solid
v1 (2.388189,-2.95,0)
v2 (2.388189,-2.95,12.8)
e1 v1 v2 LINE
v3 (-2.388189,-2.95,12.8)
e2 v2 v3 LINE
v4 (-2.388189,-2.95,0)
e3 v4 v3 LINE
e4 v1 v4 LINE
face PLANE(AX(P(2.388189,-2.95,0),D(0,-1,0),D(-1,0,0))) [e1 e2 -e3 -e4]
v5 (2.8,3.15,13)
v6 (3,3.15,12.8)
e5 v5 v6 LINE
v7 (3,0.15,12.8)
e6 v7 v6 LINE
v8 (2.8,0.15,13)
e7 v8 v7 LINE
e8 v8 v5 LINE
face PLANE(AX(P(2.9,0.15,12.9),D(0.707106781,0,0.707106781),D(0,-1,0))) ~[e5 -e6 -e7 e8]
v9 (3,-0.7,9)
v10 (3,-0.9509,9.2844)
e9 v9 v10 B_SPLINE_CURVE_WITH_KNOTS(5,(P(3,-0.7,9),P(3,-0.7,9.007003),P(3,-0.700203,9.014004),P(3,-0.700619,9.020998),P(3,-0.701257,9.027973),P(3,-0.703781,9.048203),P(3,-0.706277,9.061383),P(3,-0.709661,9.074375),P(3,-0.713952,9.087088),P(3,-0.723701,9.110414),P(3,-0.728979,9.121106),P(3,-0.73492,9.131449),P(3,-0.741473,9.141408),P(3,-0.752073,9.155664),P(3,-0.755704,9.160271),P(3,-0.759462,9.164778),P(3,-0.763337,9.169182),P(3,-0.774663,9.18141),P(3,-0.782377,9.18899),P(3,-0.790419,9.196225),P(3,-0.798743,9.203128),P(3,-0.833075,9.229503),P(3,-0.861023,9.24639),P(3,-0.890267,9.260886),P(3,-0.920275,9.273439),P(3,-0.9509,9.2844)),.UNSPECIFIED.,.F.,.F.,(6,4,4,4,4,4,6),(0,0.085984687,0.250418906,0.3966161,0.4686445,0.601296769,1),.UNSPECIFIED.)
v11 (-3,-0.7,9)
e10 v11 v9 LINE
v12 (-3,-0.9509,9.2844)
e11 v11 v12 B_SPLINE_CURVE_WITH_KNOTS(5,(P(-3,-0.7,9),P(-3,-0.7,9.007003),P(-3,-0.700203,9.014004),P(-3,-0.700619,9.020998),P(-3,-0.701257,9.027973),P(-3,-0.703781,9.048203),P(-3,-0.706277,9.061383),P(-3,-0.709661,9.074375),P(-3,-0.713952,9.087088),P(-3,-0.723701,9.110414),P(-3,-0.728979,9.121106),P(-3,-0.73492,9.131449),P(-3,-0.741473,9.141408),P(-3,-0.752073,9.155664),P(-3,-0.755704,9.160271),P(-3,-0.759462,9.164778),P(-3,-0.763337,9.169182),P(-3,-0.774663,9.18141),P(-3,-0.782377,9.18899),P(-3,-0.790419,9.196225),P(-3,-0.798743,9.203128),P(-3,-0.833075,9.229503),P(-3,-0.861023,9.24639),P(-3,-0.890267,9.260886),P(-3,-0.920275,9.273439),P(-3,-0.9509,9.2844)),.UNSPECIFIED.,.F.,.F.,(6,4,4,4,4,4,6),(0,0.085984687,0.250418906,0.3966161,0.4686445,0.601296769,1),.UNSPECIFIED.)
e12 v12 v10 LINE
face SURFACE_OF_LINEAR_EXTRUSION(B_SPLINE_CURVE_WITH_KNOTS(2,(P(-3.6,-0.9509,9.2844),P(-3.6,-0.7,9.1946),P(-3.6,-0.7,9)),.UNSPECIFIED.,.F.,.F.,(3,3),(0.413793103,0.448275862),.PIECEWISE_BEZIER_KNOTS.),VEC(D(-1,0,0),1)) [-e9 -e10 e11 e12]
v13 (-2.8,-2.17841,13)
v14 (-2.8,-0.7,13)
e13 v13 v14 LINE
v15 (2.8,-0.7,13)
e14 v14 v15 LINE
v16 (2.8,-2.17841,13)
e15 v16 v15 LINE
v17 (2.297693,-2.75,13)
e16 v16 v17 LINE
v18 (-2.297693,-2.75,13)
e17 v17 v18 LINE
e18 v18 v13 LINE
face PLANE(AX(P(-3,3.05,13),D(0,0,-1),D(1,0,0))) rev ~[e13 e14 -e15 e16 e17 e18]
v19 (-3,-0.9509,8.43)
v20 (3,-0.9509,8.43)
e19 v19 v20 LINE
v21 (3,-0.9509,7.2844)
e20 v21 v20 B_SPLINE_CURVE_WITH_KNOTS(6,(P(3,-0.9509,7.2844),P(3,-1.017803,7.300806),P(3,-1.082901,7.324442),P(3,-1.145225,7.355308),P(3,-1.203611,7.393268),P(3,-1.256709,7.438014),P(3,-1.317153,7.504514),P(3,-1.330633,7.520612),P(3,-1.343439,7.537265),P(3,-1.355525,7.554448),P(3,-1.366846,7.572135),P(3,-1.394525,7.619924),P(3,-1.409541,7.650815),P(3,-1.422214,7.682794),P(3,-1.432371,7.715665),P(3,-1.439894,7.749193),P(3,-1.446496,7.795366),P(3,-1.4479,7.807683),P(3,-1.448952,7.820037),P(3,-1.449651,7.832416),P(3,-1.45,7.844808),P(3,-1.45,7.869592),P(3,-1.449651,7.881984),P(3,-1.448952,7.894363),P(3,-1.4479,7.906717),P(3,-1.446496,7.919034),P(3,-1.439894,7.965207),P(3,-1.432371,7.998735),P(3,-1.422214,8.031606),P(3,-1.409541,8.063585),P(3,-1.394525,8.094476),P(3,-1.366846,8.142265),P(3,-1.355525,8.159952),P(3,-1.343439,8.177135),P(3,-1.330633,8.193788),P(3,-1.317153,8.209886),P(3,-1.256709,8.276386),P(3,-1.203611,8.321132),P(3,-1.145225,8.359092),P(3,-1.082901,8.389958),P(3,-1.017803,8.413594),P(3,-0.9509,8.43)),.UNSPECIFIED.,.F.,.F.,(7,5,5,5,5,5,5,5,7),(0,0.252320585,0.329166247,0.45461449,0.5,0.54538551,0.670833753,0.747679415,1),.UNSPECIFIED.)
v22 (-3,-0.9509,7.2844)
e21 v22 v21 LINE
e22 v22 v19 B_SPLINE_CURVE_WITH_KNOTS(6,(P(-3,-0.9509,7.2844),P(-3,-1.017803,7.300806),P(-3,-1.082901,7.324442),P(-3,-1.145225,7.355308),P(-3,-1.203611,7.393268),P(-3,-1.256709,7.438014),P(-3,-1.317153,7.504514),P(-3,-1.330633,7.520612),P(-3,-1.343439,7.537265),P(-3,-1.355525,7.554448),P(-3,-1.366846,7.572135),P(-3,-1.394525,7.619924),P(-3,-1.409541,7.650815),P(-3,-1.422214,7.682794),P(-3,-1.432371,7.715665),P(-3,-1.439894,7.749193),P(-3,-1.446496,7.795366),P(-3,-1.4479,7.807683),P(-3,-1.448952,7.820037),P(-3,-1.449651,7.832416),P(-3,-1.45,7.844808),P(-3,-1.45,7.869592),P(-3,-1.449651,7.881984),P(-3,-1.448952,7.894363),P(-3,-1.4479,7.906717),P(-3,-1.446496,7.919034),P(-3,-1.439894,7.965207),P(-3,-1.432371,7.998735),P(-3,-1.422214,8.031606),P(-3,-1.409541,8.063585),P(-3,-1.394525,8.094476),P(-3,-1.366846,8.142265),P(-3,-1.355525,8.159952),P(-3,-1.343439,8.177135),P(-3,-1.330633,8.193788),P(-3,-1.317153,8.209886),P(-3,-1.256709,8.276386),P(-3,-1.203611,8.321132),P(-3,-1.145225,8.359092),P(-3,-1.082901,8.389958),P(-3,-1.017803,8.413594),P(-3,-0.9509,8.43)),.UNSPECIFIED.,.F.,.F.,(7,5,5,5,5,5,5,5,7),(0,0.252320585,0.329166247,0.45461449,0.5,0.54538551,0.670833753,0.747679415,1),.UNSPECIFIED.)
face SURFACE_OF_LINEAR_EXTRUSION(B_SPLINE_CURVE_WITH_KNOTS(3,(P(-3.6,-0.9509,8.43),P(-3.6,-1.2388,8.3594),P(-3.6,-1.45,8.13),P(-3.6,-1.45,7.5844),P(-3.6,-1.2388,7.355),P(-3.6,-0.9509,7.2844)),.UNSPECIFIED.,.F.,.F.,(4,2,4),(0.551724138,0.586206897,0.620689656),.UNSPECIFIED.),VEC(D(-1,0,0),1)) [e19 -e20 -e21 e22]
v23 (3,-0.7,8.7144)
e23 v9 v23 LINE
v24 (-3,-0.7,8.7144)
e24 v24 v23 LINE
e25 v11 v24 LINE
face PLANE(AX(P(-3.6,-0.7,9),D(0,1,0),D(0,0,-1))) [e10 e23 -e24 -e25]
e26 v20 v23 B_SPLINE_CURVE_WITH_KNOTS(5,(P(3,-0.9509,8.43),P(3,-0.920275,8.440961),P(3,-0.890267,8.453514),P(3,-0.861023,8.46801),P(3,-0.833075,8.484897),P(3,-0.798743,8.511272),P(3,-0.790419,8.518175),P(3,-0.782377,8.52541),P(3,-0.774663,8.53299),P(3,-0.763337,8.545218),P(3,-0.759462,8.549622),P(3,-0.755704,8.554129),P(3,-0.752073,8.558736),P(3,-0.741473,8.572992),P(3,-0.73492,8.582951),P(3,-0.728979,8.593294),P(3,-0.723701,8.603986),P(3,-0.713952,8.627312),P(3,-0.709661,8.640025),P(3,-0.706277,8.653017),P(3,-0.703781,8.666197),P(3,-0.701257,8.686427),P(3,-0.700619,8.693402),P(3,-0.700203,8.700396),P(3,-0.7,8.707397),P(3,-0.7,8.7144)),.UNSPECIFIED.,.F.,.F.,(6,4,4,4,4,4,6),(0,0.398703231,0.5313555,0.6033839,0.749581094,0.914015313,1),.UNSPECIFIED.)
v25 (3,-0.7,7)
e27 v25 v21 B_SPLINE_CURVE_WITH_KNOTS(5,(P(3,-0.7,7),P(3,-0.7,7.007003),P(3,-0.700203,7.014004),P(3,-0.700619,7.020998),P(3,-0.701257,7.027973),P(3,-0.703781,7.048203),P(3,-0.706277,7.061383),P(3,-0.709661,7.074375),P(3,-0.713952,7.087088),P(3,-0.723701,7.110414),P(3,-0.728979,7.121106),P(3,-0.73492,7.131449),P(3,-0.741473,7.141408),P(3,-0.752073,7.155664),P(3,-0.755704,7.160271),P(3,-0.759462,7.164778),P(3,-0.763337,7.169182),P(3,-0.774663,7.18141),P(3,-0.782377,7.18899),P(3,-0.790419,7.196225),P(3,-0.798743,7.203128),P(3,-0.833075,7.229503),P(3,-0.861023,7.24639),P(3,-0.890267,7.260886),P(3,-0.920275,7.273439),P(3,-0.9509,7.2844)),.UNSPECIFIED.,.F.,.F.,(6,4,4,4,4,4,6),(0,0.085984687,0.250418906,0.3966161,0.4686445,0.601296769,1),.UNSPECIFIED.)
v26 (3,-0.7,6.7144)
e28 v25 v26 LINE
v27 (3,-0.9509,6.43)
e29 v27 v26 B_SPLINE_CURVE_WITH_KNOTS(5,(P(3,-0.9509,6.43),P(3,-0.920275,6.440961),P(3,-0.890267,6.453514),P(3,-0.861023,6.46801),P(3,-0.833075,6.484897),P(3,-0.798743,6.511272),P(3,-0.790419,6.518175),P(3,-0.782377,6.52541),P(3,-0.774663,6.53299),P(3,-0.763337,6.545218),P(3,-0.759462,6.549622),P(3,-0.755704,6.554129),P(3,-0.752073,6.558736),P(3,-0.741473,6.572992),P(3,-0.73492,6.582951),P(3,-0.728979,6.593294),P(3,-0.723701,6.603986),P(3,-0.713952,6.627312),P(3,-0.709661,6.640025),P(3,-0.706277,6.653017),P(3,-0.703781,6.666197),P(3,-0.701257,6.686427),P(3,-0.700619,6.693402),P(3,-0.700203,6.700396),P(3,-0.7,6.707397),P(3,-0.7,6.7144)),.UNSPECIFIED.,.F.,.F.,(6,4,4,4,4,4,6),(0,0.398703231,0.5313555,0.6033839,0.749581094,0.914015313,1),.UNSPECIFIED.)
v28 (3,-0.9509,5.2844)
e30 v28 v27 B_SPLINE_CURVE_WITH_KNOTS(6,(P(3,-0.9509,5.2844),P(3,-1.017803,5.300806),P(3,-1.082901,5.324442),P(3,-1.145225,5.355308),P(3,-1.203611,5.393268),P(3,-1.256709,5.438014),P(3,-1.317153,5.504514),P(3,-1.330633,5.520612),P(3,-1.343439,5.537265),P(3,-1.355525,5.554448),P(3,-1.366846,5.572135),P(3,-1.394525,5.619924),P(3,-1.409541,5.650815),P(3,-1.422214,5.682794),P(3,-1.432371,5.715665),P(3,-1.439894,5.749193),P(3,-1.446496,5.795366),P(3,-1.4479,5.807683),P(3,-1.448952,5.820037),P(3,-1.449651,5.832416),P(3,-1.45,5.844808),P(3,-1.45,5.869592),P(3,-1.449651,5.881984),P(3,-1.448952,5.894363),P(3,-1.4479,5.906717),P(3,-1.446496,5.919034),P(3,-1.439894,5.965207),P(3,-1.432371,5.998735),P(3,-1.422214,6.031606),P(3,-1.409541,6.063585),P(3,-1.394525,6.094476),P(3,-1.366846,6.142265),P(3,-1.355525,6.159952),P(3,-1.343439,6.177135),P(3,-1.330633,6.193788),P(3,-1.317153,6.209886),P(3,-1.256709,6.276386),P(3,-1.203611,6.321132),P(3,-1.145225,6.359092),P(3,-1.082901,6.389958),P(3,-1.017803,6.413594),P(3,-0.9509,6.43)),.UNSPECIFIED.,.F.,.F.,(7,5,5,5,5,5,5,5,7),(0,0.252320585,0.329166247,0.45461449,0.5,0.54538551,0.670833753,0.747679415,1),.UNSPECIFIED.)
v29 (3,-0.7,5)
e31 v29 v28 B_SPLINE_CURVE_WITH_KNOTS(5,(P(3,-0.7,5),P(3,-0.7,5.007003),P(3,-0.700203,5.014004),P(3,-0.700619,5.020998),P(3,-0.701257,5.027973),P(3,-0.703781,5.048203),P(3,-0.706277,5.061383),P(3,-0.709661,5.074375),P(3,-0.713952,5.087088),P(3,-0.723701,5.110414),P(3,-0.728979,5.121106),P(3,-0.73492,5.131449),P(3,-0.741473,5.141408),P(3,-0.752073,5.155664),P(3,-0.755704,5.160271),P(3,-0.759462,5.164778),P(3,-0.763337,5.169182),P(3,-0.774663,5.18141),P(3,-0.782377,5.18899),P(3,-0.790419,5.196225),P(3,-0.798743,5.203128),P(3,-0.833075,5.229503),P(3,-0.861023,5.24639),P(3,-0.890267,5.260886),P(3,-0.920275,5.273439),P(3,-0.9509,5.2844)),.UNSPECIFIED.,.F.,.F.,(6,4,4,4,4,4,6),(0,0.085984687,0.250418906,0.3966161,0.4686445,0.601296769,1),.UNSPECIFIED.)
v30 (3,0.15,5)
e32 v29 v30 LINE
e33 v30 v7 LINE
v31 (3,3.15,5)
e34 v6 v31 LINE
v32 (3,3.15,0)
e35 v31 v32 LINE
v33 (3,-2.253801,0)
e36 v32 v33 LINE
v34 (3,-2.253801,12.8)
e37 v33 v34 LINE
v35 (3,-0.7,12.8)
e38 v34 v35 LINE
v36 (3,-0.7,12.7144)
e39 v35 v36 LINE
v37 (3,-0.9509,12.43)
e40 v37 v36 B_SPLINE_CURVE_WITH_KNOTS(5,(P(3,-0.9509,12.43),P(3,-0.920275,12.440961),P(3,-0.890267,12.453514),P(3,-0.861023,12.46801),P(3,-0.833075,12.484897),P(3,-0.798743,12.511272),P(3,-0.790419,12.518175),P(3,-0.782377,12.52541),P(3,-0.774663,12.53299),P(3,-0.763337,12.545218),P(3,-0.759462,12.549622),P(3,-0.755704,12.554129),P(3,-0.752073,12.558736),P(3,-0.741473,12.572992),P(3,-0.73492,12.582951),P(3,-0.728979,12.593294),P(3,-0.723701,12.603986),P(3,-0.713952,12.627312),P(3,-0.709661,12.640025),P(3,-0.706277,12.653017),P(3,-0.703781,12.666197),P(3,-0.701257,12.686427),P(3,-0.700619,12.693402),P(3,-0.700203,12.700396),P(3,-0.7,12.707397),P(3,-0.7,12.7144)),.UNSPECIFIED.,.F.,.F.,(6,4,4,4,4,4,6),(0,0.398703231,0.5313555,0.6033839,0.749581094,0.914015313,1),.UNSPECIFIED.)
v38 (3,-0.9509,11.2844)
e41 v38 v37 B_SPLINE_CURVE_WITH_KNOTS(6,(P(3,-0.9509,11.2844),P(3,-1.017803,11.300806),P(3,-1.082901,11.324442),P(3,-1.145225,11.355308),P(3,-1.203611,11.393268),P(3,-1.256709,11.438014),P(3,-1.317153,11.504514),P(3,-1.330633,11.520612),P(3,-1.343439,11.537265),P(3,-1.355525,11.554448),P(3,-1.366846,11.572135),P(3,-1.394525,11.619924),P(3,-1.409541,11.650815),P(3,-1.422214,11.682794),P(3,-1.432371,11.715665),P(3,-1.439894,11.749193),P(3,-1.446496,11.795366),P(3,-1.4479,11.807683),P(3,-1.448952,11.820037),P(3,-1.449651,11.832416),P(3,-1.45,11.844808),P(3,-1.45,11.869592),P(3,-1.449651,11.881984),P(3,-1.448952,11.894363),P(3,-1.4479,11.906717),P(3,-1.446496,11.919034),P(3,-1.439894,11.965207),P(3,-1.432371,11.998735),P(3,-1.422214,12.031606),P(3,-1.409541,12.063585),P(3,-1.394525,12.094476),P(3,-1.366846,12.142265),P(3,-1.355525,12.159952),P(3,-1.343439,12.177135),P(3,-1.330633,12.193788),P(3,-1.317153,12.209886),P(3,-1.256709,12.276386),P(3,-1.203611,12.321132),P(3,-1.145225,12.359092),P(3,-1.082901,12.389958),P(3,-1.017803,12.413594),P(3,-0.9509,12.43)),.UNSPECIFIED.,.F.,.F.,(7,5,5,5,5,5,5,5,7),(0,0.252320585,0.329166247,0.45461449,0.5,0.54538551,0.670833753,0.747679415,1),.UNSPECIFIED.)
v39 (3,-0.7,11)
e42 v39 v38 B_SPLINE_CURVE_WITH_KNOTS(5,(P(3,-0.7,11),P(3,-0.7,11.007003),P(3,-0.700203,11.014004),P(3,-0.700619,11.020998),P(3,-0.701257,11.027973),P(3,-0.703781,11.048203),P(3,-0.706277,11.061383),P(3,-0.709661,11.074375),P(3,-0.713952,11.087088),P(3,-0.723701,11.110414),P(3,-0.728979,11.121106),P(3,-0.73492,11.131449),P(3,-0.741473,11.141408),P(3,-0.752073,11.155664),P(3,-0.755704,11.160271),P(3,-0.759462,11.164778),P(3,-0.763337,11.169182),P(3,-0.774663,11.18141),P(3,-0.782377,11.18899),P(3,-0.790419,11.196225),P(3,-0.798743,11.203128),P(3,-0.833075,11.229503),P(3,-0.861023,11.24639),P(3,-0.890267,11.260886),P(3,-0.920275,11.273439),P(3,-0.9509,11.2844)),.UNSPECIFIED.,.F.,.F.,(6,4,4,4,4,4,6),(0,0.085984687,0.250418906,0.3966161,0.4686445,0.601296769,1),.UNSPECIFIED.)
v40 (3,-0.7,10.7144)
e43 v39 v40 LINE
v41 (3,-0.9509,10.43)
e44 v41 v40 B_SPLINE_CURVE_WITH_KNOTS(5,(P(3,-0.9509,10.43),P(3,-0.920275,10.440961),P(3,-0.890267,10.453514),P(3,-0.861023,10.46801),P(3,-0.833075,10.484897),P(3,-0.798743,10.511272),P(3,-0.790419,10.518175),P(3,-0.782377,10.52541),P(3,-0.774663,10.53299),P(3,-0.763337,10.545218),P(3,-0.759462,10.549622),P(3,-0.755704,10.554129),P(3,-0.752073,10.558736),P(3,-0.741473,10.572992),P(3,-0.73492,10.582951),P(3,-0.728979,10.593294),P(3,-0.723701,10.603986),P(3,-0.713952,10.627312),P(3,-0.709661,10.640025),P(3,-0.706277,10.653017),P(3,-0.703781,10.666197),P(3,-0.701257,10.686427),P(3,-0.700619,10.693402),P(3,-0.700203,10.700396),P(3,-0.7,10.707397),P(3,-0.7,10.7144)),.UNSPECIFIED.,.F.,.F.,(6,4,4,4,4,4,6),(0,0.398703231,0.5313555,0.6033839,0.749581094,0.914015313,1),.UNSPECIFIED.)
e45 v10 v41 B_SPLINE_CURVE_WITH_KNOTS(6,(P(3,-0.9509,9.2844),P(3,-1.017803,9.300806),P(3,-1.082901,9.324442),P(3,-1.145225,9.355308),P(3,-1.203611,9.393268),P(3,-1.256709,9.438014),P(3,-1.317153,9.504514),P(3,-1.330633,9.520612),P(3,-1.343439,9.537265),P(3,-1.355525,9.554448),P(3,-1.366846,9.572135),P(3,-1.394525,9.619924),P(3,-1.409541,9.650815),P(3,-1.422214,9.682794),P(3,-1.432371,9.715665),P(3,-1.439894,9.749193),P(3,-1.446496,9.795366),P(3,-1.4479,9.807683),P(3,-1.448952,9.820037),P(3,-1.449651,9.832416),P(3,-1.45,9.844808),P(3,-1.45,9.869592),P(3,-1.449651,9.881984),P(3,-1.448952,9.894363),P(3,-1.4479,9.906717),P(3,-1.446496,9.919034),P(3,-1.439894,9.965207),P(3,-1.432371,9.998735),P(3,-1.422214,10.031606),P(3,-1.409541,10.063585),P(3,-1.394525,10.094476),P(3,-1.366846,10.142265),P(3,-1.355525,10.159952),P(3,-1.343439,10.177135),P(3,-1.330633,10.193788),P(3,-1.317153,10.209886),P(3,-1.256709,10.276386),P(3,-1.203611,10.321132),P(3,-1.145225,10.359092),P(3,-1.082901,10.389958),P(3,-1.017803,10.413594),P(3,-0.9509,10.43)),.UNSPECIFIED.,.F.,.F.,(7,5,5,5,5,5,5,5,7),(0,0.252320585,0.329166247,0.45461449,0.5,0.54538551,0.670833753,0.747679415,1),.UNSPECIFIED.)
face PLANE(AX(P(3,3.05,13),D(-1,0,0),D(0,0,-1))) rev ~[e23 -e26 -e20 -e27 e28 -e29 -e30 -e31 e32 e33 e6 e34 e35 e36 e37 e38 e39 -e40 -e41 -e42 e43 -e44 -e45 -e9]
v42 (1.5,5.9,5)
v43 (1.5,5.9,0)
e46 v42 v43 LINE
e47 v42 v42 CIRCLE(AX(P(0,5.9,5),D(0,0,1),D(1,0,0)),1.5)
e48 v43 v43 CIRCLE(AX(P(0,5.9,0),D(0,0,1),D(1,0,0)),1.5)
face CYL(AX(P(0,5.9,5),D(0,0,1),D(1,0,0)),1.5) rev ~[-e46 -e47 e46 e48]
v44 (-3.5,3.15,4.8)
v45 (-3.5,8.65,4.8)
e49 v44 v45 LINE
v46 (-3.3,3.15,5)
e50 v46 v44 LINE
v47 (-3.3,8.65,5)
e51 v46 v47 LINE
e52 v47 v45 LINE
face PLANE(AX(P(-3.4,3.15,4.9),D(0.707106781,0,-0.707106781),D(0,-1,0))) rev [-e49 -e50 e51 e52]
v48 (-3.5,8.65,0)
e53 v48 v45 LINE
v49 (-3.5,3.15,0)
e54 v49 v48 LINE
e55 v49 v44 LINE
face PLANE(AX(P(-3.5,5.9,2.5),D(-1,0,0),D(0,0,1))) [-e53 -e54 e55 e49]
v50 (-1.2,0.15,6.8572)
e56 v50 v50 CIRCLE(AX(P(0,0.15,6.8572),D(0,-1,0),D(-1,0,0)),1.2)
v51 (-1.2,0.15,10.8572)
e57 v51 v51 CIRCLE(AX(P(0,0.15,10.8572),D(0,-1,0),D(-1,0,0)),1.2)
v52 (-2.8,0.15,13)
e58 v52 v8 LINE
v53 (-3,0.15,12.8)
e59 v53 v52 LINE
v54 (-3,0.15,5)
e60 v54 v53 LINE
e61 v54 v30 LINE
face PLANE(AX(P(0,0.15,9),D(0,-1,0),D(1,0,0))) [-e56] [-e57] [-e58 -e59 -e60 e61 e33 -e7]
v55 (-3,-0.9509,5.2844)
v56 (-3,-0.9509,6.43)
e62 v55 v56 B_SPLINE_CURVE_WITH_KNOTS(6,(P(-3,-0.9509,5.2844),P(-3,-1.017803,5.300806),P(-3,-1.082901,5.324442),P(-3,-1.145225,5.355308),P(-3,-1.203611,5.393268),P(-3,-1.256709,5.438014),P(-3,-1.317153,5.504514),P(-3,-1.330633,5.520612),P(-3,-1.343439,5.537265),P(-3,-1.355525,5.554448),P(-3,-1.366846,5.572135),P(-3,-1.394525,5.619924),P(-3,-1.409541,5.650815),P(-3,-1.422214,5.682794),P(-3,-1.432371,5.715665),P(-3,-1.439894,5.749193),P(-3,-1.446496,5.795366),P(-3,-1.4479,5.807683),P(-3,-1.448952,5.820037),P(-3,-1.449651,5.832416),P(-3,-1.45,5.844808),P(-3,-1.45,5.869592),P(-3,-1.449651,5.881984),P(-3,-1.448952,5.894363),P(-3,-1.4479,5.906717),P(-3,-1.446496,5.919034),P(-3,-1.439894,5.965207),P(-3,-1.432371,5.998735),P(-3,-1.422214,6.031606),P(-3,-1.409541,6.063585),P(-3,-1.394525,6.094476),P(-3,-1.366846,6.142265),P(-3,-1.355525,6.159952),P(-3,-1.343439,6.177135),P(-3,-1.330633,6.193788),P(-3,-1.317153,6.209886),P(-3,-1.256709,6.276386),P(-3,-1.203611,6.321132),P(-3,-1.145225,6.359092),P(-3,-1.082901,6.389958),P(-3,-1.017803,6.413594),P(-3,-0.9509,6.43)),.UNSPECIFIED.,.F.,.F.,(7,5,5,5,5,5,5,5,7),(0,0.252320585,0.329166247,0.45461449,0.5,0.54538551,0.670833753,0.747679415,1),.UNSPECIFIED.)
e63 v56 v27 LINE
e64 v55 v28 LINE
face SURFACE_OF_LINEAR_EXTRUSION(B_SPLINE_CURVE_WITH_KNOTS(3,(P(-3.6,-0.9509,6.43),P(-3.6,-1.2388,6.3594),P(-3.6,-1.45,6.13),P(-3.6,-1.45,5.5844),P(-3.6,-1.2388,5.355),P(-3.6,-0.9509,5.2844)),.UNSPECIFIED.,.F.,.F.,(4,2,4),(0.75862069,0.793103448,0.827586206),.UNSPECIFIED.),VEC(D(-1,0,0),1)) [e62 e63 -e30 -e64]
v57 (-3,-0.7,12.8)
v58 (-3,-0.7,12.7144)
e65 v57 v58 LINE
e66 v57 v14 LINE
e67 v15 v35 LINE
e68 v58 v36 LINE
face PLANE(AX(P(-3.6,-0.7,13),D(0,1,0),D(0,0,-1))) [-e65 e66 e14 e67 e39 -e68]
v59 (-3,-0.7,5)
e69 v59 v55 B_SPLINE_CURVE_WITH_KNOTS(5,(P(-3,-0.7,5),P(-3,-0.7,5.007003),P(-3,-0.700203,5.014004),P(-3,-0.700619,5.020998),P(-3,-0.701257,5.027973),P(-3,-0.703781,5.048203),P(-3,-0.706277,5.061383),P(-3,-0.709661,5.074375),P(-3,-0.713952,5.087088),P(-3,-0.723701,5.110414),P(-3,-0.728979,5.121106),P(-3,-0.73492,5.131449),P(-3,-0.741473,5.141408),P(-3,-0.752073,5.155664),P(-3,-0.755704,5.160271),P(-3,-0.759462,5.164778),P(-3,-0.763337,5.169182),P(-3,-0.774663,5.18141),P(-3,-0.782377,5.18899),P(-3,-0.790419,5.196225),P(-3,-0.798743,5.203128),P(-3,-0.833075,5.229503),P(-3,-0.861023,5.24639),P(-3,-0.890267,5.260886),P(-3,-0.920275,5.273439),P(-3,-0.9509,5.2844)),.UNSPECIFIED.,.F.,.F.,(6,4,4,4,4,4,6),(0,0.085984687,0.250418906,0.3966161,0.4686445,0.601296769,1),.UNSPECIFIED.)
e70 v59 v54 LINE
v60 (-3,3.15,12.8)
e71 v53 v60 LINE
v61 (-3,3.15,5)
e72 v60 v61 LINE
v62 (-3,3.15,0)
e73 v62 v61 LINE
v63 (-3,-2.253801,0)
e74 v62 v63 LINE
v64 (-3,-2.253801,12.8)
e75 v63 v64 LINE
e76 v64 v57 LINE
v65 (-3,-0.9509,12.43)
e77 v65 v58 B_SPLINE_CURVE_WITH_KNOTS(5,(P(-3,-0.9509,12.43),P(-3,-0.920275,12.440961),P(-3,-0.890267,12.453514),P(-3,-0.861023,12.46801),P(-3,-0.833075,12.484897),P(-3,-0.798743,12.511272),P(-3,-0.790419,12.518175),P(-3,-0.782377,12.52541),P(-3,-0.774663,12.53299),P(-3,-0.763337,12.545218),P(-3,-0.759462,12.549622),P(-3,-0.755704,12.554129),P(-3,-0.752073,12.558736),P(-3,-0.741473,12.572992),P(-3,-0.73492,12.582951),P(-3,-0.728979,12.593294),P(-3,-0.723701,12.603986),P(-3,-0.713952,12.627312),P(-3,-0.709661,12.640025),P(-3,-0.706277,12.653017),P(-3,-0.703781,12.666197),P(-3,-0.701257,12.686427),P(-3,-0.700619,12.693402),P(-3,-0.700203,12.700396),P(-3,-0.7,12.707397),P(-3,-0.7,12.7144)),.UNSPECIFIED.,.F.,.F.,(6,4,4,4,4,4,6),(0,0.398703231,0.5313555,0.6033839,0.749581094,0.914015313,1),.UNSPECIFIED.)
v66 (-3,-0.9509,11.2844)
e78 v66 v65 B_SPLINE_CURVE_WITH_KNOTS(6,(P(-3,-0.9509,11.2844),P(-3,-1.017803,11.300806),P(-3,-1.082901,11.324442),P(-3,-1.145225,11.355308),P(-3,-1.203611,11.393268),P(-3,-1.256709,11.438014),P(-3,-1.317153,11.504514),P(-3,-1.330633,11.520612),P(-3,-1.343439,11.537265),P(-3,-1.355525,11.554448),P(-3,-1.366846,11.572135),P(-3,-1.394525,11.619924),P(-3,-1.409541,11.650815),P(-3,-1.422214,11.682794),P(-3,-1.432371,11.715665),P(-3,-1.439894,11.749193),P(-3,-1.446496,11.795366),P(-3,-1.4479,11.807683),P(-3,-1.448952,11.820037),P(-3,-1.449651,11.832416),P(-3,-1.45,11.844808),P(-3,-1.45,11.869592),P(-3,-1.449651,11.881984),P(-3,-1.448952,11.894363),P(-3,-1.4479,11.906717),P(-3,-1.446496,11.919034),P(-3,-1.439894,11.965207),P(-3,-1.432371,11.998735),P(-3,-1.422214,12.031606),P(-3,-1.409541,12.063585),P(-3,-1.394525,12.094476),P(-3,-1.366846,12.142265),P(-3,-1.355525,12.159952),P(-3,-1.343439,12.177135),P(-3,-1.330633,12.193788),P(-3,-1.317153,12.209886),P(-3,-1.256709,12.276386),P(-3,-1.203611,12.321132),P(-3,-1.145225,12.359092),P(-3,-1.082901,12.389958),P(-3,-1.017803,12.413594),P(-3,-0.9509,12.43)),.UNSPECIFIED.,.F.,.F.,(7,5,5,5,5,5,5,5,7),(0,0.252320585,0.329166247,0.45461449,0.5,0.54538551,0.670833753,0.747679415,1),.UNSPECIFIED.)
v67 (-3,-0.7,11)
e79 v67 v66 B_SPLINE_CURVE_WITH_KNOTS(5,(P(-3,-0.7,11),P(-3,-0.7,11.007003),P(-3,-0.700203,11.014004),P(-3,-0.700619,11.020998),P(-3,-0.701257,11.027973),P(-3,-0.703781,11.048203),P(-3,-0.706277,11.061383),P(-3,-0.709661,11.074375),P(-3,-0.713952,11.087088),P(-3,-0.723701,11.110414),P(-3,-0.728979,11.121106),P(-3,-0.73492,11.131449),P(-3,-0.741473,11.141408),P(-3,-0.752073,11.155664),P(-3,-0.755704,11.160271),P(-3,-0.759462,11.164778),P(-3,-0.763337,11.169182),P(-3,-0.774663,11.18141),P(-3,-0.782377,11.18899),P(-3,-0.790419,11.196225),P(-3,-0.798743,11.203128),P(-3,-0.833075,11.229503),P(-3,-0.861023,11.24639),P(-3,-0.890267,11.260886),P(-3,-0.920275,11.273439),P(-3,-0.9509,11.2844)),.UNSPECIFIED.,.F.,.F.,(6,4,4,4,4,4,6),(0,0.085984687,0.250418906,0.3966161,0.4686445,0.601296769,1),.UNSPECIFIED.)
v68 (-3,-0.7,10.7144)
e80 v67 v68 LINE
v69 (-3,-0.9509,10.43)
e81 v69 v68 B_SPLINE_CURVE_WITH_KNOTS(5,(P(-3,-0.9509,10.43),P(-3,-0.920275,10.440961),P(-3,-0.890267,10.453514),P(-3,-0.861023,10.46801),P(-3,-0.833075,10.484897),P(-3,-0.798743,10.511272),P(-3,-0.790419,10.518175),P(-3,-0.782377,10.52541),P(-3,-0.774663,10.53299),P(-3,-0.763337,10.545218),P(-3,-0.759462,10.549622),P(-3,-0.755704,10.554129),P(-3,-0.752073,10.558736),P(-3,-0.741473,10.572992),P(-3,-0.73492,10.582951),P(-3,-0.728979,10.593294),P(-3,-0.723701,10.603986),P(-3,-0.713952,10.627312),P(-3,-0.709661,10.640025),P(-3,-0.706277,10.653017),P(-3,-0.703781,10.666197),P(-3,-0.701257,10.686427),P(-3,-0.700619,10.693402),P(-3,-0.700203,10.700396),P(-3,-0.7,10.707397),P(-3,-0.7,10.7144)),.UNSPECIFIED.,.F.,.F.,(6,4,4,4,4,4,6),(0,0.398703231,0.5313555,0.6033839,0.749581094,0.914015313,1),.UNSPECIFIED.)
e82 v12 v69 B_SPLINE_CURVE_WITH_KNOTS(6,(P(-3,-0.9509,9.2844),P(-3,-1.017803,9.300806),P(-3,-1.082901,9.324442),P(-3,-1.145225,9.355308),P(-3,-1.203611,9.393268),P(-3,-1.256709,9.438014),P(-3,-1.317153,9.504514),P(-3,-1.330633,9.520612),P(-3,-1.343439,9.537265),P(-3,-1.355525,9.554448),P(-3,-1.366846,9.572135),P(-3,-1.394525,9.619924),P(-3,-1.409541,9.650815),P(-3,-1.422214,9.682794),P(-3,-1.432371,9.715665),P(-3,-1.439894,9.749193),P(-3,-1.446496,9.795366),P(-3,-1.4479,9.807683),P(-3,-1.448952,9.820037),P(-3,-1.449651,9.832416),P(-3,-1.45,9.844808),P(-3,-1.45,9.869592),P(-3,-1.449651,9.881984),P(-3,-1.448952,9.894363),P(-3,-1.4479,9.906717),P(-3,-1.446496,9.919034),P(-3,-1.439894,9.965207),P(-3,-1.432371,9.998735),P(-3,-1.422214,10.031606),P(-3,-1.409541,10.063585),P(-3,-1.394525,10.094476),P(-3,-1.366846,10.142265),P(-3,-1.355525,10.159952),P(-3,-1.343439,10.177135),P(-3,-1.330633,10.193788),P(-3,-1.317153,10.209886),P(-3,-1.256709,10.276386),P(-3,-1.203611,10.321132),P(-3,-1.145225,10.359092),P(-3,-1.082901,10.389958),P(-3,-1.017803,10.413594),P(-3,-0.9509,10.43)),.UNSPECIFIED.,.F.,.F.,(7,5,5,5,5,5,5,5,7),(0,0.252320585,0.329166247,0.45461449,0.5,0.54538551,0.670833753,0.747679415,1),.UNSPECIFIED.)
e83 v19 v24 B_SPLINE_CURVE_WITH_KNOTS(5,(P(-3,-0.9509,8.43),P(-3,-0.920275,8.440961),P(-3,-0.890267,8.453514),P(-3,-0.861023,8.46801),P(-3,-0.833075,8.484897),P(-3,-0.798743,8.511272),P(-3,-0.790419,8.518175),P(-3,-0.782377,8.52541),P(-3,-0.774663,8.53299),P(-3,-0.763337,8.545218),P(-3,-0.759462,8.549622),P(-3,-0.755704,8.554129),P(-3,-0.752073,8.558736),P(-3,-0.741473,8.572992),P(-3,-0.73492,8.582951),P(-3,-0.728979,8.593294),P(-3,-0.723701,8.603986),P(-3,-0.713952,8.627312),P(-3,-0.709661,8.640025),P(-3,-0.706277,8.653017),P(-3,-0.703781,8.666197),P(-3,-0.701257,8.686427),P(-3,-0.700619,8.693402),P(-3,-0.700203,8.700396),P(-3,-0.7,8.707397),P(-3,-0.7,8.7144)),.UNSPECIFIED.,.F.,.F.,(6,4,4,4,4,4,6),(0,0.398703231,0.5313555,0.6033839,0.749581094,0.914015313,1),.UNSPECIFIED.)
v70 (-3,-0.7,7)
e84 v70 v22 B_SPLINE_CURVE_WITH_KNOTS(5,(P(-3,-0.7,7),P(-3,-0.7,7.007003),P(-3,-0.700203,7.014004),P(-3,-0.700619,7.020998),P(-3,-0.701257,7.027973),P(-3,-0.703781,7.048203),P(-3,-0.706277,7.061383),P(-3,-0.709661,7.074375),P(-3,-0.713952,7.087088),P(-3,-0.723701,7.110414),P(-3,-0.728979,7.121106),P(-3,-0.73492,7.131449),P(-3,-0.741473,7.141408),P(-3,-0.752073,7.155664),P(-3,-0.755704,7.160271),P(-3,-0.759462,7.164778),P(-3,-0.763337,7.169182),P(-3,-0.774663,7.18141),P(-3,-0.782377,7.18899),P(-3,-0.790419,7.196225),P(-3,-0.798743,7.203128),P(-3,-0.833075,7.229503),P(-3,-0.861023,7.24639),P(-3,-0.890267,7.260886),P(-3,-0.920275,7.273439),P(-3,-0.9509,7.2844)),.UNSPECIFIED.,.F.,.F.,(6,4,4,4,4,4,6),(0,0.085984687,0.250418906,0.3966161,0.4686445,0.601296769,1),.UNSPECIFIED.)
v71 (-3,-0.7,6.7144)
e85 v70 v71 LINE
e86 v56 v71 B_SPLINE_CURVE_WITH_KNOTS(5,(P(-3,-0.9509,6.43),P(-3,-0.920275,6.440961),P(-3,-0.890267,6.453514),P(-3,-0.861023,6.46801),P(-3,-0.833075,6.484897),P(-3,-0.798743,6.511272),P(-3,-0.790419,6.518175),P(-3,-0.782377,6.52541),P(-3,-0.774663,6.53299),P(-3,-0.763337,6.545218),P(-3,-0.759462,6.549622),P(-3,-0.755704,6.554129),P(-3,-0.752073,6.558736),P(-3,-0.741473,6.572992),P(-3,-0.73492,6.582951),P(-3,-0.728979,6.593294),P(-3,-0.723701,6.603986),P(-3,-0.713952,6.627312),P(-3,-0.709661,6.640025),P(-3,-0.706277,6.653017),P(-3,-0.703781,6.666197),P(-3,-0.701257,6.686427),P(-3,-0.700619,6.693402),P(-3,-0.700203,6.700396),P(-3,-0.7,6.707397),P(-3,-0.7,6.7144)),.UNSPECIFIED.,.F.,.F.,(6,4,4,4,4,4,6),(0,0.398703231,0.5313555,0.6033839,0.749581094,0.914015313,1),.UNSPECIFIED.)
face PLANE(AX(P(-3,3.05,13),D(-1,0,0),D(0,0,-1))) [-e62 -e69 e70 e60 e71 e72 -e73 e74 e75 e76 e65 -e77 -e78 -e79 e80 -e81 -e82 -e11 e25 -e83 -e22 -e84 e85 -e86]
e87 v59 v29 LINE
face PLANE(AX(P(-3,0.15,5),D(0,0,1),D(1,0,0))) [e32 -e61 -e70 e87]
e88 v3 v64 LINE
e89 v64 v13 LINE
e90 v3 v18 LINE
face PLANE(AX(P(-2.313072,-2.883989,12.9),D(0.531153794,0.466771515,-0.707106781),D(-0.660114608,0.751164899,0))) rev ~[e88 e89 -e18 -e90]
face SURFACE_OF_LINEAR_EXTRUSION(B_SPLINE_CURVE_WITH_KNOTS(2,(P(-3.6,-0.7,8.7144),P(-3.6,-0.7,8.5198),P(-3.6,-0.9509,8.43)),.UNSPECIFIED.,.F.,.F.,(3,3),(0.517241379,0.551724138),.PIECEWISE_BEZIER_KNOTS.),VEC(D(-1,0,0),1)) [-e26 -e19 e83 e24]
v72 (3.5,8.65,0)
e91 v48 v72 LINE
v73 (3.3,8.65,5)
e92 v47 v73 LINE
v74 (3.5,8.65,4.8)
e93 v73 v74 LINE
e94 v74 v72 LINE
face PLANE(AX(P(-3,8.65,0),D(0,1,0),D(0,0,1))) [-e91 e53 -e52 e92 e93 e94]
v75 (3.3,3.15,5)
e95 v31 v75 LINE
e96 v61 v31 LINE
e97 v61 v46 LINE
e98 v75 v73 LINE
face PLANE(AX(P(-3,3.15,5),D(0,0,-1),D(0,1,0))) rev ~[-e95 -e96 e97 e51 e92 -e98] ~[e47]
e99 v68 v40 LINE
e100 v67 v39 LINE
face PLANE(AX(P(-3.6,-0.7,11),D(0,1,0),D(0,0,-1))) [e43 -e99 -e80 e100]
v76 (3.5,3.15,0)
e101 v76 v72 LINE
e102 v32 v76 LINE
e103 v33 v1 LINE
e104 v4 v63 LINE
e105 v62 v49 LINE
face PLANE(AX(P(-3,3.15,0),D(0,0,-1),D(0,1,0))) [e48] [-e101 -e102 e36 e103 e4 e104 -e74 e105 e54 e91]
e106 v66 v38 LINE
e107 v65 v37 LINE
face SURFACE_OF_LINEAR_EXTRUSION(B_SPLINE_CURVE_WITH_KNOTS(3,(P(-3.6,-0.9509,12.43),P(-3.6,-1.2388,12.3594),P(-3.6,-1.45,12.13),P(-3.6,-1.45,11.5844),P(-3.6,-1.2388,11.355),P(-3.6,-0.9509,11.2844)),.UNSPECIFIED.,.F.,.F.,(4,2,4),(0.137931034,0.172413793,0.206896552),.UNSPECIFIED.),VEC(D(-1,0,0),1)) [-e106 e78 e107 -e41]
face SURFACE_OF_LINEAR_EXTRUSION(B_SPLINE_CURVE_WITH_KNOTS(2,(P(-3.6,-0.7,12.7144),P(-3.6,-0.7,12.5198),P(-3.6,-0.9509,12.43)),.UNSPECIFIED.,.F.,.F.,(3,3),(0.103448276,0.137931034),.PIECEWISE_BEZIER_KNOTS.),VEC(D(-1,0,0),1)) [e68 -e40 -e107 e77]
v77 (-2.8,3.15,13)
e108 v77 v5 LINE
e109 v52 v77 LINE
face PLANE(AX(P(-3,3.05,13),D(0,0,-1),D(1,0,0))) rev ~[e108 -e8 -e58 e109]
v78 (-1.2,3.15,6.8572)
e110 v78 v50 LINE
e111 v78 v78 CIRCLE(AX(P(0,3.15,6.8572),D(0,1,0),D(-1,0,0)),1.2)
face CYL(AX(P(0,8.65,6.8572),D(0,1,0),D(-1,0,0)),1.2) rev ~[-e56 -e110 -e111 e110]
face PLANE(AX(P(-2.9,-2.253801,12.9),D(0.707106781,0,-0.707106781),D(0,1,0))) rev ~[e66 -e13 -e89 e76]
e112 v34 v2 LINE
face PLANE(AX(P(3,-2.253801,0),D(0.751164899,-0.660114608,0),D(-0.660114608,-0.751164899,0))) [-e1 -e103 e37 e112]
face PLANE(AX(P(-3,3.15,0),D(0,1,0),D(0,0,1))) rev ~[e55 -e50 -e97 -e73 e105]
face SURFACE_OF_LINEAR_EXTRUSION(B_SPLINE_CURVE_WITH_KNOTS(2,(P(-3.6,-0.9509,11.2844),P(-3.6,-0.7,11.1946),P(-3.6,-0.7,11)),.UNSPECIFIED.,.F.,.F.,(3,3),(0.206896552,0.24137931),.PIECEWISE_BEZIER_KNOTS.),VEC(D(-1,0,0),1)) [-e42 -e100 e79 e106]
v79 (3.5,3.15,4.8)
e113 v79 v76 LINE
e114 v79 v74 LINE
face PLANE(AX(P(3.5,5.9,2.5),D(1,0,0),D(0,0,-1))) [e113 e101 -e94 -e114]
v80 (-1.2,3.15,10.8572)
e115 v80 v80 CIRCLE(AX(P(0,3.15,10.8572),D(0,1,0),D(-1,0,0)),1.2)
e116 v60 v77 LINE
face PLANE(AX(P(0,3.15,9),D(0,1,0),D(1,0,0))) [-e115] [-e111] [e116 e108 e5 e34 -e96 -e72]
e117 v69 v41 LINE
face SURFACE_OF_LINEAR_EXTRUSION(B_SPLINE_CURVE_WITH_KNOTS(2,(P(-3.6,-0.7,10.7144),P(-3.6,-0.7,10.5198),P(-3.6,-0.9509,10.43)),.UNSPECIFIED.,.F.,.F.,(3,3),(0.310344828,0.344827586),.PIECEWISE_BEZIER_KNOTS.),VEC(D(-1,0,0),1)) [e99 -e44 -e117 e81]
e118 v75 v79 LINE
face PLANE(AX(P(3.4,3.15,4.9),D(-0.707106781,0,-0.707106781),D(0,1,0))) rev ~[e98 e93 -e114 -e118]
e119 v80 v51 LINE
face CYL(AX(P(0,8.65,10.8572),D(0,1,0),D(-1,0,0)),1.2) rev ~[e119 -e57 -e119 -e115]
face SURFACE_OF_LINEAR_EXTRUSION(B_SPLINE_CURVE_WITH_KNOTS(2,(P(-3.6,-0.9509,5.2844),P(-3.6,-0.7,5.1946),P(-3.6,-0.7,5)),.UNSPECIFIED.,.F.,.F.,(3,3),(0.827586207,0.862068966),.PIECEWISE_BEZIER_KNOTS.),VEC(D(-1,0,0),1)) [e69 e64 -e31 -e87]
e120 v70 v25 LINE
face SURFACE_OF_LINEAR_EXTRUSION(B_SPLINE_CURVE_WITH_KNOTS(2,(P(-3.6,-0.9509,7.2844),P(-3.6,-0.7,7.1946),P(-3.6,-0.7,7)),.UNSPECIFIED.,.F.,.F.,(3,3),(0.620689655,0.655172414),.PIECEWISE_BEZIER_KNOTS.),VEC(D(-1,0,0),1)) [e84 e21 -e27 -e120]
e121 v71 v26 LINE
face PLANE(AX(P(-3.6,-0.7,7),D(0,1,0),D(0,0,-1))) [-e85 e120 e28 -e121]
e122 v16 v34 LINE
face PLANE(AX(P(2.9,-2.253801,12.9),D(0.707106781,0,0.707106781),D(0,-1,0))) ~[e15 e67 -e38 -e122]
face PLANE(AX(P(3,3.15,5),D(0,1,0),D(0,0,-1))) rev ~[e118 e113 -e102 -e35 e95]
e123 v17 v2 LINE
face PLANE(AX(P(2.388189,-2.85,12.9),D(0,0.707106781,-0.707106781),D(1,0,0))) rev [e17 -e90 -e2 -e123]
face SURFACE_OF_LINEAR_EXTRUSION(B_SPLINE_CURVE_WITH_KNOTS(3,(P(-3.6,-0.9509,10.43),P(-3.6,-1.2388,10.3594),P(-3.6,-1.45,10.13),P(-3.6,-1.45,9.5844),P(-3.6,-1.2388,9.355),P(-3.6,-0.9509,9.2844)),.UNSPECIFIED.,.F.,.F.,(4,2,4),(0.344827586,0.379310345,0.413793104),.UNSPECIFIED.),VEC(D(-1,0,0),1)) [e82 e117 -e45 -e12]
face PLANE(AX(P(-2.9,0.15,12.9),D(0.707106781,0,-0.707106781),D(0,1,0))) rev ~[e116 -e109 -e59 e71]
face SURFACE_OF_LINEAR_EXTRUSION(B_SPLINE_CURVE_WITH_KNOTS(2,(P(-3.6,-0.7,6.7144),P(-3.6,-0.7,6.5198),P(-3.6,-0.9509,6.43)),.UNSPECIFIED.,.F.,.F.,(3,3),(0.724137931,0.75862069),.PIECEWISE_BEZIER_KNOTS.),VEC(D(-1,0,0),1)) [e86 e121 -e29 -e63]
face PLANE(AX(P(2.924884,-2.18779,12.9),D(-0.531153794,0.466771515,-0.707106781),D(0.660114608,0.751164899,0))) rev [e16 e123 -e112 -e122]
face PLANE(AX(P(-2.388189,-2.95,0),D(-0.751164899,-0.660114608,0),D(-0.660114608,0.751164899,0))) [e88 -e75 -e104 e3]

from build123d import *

# Parameters (mm, degrees)
BOSS_EXTRUDE1_DEPTH     = 13
SKETCH6_W               = 6
SKETCH6_H               = 5
BOSS_EXTRUDE4_DEPTH     = 5.6
SKETCH16_W              = 6
SKETCH16_H              = 8
BOSS_EXTRUDE5_DEPTH     = 0.1
CUT_EXTRUDE6_DEPTH      = 4
CUT_EXTRUDE6_DEPTH_BACK = 3.6
SKETCH15_R              = 1.2
CUT_EXTRUDE7_DEPTH      = 8.7202
CUT_EXTRUDE8_START      = -0.2202
SKETCH19_W              = 6
SKETCH19_H              = 8
SKETCH19_R              = 1.2
CUT_EXTRUDE8_DEPTH      = 0.2202
SKETCH12_R              = 1.5
CUT_EXTRUDE5_DEPTH      = 6
CHAMFER1_SIZE           = 0.2
SKETCH20_W              = 5
SKETCH20_H              = 5.5
BOSS_EXTRUDE6_DEPTH     = 0.5
SKETCH21_W              = 5
SKETCH21_H              = 5.5
BOSS_EXTRUDE7_DEPTH     = 0.5
CHAMFER2_SIZE           = 0.2


with BuildPart() as part:
    # Sketch1 → Boss-Extrude1 (new body)
    with BuildSketch(Plane.XY):
        Polygon((3, 3.05), (3, -2.253801214), (2.388188946, -2.95), (-2.388188946, -2.95), (-3, -2.253801214), (-3, 3.05), align=None)
    extrude(amount=BOSS_EXTRUDE1_DEPTH)

    # Sketch6 → Boss-Extrude4 (add)
    with BuildSketch(Plane(origin=(0, 3.05, 0), x_dir=(1, 0, 0), z_dir=(0, 1, 0))):
        with Locations((0, -2.5)):
            Rectangle(SKETCH6_W, SKETCH6_H)
    extrude(amount=BOSS_EXTRUDE4_DEPTH)

    # Sketch16 → Boss-Extrude5 (add)
    with BuildSketch(Plane(origin=(0, 3.05, 0), x_dir=(1, 0, 0), z_dir=(0, 1, 0))):
        with Locations((0, -9)):
            Rectangle(SKETCH16_W, SKETCH16_H)
    extrude(amount=BOSS_EXTRUDE5_DEPTH)

    # Sketch18 → Cut-Extrude6 (cut, two sides: drawn at the far end of the back side and taken through both)
    with BuildSketch(Plane(origin=(0, 0, 0), x_dir=(0, 0, -1), z_dir=(1, 0, 0)).offset(-CUT_EXTRUDE6_DEPTH_BACK)):
        with BuildLine():
            Line((-8.8572, -0.0702), (-12.8572, -0.0702))
            Line((-12.8572, -0.0702), (-13, -0.0702))
            Line((-13, -0.0702), (-13, -0.7))
            Line((-13, -0.7), (-12.8572, -0.7))
            Line((-12.8572, -0.7), (-12.7144, -0.7))
            add(Edge.make_bspline(
                [(-12.7144, -0.7), (-12.5198, -0.7), (-12.43, -0.9509)],
                knots=[0.103448276, 0.103448276, 0.103448276, 0.137931034, 0.137931034, 0.137931034], degree=2))
            add(Edge.make_bspline(
                [(-12.43, -0.9509), (-12.3594, -1.2388), (-12.13, -1.45), (-11.8572, -1.45)],
                knots=[0.137931034, 0.137931034, 0.137931034, 0.137931034, 0.172413793, 0.172413793, 0.172413793, 0.172413793], degree=3))
            add(Edge.make_bspline(
                [(-11.8572, -1.45), (-11.5844, -1.45), (-11.355, -1.2388), (-11.2844, -0.9509)],
                knots=[0.172413793, 0.172413793, 0.172413793, 0.172413793, 0.206896552, 0.206896552, 0.206896552, 0.206896552], degree=3))
            add(Edge.make_bspline(
                [(-11.2844, -0.9509), (-11.1946, -0.7), (-11, -0.7)],
                knots=[0.206896552, 0.206896552, 0.206896552, 0.24137931, 0.24137931, 0.24137931], degree=2))
            Line((-11, -0.7), (-10.8572, -0.7))
            Line((-10.8572, -0.7), (-10.7144, -0.7))
            add(Edge.make_bspline(
                [(-10.7144, -0.7), (-10.5198, -0.7), (-10.43, -0.9509)],
                knots=[0.310344828, 0.310344828, 0.310344828, 0.344827586, 0.344827586, 0.344827586], degree=2))
            add(Edge.make_bspline(
                [(-10.43, -0.9509), (-10.3594, -1.2388), (-10.13, -1.45), (-9.8572, -1.45)],
                knots=[0.344827586, 0.344827586, 0.344827586, 0.344827586, 0.379310345, 0.379310345, 0.379310345, 0.379310345], degree=3))
            add(Edge.make_bspline(
                [(-9.8572, -1.45), (-9.5844, -1.45), (-9.355, -1.2388), (-9.2844, -0.9509)],
                knots=[0.379310345, 0.379310345, 0.379310345, 0.379310345, 0.413793103, 0.413793103, 0.413793103, 0.413793103], degree=3))
            add(Edge.make_bspline(
                [(-9.2844, -0.9509), (-9.1946, -0.7), (-9, -0.7)],
                knots=[0.413793103, 0.413793103, 0.413793103, 0.448275862, 0.448275862, 0.448275862], degree=2))
            Line((-9, -0.7), (-8.8572, -0.7))
            Line((-8.8572, -0.7), (-8.7144, -0.7))
            add(Edge.make_bspline(
                [(-8.7144, -0.7), (-8.5198, -0.7), (-8.43, -0.9509)],
                knots=[0.517241379, 0.517241379, 0.517241379, 0.551724138, 0.551724138, 0.551724138], degree=2))
            add(Edge.make_bspline(
                [(-8.43, -0.9509), (-8.3594, -1.2388), (-8.13, -1.45), (-7.8572, -1.45)],
                knots=[0.551724138, 0.551724138, 0.551724138, 0.551724138, 0.586206897, 0.586206897, 0.586206897, 0.586206897], degree=3))
            add(Edge.make_bspline(
                [(-7.8572, -1.45), (-7.5844, -1.45), (-7.355, -1.2388), (-7.2844, -0.9509)],
                knots=[0.586206897, 0.586206897, 0.586206897, 0.586206897, 0.620689655, 0.620689655, 0.620689655, 0.620689655], degree=3))
            add(Edge.make_bspline(
                [(-7.2844, -0.9509), (-7.1946, -0.7), (-7, -0.7)],
                knots=[0.620689655, 0.620689655, 0.620689655, 0.655172414, 0.655172414, 0.655172414], degree=2))
            Line((-7, -0.7), (-6.8572, -0.7))
            Line((-6.8572, -0.7), (-6.7144, -0.7))
            add(Edge.make_bspline(
                [(-6.7144, -0.7), (-6.5198, -0.7), (-6.43, -0.9509)],
                knots=[0.724137931, 0.724137931, 0.724137931, 0.75862069, 0.75862069, 0.75862069], degree=2))
            add(Edge.make_bspline(
                [(-6.43, -0.9509), (-6.3594, -1.2388), (-6.13, -1.45), (-5.8572, -1.45)],
                knots=[0.75862069, 0.75862069, 0.75862069, 0.75862069, 0.793103448, 0.793103448, 0.793103448, 0.793103448], degree=3))
            add(Edge.make_bspline(
                [(-5.8572, -1.45), (-5.5844, -1.45), (-5.355, -1.2388), (-5.2844, -0.9509)],
                knots=[0.793103448, 0.793103448, 0.793103448, 0.793103448, 0.827586207, 0.827586207, 0.827586207, 0.827586207], degree=3))
            add(Edge.make_bspline(
                [(-5.2844, -0.9509), (-5.1946, -0.7), (-5, -0.7)],
                knots=[0.827586207, 0.827586207, 0.827586207, 0.862068966, 0.862068966, 0.862068966], degree=2))
            Line((-5, -0.7), (-5, -0.0702))
            Line((-5, -0.0702), (-8.8572, -0.0702))
        make_face()
    extrude(amount=CUT_EXTRUDE6_DEPTH + CUT_EXTRUDE6_DEPTH_BACK, mode=Mode.SUBTRACT)

    # Sketch15 → Cut-Extrude7 (cut)
    with BuildSketch(Plane(origin=(0, 8.65, 0), x_dir=(1, 0, 0), z_dir=(0, 1, 0))):
        with Locations(Location((0, -10.8572, 0), (0, 0, 180))):
            Circle(SKETCH15_R)
        with Locations(Location((0, -6.8572, 0), (0, 0, 180))):
            Circle(SKETCH15_R)
    extrude(amount=-CUT_EXTRUDE7_DEPTH, mode=Mode.SUBTRACT)

    # Sketch19 → Cut-Extrude8 (cut)
    with BuildSketch(Plane.XZ.offset(0.0702).offset(CUT_EXTRUDE8_START)):
        with Locations((0, 9)):
            Rectangle(SKETCH19_W, SKETCH19_H)
        with Locations(Location((0, 10.8572, 0), (0, 0, 180))):
            Circle(SKETCH19_R, mode=Mode.SUBTRACT)
        with Locations(Location((0, 6.8572, 0), (0, 0, 180))):
            Circle(SKETCH19_R, mode=Mode.SUBTRACT)
    extrude(amount=CUT_EXTRUDE8_DEPTH, mode=Mode.SUBTRACT)

    # Sketch12 → Cut-Extrude5 (cut)
    with BuildSketch(Plane.XY.offset(5)):
        with Locations((0, 5.9)):
            Circle(SKETCH12_R)
    extrude(amount=-CUT_EXTRUDE5_DEPTH, mode=Mode.SUBTRACT)

    # Chamfer1
    chamfer1_edges = [part.edges().sort_by_distance(p)[0] for p in [
        (-2.694094473, -2.601900607, 13),
        (0, -2.95, 13),
        (2.694094473, -2.601900607, 13),
        (3, 1.65, 13),
        (3, -1.476900607, 13),
        (-3, -1.476900607, 13),
        (-3, 1.65, 13),
    ]]
    chamfer(chamfer1_edges, length=CHAMFER1_SIZE)

    # Sketch20 → Boss-Extrude6 (add)
    with BuildSketch(Plane(origin=(3, 0, 0), x_dir=(0, 0, -1), z_dir=(1, 0, 0))):
        with Locations((-2.5, 5.9)):
            Rectangle(SKETCH20_W, SKETCH20_H)
    extrude(amount=BOSS_EXTRUDE6_DEPTH)

    # Sketch21 → Boss-Extrude7 (add)
    with BuildSketch(Plane.ZY.offset(3)):
        with Locations((2.5, 5.9)):
            Rectangle(SKETCH21_W, SKETCH21_H)
    extrude(amount=BOSS_EXTRUDE7_DEPTH)

    # Chamfer2
    chamfer2_edges = [part.edges().sort_by_distance(p)[0] for p in [
        (3.5, 5.9, 5),
        (-3.5, 5.9, 5),
    ]]
    chamfer(chamfer2_edges, length=CHAMFER2_SIZE)


solid = part.part
